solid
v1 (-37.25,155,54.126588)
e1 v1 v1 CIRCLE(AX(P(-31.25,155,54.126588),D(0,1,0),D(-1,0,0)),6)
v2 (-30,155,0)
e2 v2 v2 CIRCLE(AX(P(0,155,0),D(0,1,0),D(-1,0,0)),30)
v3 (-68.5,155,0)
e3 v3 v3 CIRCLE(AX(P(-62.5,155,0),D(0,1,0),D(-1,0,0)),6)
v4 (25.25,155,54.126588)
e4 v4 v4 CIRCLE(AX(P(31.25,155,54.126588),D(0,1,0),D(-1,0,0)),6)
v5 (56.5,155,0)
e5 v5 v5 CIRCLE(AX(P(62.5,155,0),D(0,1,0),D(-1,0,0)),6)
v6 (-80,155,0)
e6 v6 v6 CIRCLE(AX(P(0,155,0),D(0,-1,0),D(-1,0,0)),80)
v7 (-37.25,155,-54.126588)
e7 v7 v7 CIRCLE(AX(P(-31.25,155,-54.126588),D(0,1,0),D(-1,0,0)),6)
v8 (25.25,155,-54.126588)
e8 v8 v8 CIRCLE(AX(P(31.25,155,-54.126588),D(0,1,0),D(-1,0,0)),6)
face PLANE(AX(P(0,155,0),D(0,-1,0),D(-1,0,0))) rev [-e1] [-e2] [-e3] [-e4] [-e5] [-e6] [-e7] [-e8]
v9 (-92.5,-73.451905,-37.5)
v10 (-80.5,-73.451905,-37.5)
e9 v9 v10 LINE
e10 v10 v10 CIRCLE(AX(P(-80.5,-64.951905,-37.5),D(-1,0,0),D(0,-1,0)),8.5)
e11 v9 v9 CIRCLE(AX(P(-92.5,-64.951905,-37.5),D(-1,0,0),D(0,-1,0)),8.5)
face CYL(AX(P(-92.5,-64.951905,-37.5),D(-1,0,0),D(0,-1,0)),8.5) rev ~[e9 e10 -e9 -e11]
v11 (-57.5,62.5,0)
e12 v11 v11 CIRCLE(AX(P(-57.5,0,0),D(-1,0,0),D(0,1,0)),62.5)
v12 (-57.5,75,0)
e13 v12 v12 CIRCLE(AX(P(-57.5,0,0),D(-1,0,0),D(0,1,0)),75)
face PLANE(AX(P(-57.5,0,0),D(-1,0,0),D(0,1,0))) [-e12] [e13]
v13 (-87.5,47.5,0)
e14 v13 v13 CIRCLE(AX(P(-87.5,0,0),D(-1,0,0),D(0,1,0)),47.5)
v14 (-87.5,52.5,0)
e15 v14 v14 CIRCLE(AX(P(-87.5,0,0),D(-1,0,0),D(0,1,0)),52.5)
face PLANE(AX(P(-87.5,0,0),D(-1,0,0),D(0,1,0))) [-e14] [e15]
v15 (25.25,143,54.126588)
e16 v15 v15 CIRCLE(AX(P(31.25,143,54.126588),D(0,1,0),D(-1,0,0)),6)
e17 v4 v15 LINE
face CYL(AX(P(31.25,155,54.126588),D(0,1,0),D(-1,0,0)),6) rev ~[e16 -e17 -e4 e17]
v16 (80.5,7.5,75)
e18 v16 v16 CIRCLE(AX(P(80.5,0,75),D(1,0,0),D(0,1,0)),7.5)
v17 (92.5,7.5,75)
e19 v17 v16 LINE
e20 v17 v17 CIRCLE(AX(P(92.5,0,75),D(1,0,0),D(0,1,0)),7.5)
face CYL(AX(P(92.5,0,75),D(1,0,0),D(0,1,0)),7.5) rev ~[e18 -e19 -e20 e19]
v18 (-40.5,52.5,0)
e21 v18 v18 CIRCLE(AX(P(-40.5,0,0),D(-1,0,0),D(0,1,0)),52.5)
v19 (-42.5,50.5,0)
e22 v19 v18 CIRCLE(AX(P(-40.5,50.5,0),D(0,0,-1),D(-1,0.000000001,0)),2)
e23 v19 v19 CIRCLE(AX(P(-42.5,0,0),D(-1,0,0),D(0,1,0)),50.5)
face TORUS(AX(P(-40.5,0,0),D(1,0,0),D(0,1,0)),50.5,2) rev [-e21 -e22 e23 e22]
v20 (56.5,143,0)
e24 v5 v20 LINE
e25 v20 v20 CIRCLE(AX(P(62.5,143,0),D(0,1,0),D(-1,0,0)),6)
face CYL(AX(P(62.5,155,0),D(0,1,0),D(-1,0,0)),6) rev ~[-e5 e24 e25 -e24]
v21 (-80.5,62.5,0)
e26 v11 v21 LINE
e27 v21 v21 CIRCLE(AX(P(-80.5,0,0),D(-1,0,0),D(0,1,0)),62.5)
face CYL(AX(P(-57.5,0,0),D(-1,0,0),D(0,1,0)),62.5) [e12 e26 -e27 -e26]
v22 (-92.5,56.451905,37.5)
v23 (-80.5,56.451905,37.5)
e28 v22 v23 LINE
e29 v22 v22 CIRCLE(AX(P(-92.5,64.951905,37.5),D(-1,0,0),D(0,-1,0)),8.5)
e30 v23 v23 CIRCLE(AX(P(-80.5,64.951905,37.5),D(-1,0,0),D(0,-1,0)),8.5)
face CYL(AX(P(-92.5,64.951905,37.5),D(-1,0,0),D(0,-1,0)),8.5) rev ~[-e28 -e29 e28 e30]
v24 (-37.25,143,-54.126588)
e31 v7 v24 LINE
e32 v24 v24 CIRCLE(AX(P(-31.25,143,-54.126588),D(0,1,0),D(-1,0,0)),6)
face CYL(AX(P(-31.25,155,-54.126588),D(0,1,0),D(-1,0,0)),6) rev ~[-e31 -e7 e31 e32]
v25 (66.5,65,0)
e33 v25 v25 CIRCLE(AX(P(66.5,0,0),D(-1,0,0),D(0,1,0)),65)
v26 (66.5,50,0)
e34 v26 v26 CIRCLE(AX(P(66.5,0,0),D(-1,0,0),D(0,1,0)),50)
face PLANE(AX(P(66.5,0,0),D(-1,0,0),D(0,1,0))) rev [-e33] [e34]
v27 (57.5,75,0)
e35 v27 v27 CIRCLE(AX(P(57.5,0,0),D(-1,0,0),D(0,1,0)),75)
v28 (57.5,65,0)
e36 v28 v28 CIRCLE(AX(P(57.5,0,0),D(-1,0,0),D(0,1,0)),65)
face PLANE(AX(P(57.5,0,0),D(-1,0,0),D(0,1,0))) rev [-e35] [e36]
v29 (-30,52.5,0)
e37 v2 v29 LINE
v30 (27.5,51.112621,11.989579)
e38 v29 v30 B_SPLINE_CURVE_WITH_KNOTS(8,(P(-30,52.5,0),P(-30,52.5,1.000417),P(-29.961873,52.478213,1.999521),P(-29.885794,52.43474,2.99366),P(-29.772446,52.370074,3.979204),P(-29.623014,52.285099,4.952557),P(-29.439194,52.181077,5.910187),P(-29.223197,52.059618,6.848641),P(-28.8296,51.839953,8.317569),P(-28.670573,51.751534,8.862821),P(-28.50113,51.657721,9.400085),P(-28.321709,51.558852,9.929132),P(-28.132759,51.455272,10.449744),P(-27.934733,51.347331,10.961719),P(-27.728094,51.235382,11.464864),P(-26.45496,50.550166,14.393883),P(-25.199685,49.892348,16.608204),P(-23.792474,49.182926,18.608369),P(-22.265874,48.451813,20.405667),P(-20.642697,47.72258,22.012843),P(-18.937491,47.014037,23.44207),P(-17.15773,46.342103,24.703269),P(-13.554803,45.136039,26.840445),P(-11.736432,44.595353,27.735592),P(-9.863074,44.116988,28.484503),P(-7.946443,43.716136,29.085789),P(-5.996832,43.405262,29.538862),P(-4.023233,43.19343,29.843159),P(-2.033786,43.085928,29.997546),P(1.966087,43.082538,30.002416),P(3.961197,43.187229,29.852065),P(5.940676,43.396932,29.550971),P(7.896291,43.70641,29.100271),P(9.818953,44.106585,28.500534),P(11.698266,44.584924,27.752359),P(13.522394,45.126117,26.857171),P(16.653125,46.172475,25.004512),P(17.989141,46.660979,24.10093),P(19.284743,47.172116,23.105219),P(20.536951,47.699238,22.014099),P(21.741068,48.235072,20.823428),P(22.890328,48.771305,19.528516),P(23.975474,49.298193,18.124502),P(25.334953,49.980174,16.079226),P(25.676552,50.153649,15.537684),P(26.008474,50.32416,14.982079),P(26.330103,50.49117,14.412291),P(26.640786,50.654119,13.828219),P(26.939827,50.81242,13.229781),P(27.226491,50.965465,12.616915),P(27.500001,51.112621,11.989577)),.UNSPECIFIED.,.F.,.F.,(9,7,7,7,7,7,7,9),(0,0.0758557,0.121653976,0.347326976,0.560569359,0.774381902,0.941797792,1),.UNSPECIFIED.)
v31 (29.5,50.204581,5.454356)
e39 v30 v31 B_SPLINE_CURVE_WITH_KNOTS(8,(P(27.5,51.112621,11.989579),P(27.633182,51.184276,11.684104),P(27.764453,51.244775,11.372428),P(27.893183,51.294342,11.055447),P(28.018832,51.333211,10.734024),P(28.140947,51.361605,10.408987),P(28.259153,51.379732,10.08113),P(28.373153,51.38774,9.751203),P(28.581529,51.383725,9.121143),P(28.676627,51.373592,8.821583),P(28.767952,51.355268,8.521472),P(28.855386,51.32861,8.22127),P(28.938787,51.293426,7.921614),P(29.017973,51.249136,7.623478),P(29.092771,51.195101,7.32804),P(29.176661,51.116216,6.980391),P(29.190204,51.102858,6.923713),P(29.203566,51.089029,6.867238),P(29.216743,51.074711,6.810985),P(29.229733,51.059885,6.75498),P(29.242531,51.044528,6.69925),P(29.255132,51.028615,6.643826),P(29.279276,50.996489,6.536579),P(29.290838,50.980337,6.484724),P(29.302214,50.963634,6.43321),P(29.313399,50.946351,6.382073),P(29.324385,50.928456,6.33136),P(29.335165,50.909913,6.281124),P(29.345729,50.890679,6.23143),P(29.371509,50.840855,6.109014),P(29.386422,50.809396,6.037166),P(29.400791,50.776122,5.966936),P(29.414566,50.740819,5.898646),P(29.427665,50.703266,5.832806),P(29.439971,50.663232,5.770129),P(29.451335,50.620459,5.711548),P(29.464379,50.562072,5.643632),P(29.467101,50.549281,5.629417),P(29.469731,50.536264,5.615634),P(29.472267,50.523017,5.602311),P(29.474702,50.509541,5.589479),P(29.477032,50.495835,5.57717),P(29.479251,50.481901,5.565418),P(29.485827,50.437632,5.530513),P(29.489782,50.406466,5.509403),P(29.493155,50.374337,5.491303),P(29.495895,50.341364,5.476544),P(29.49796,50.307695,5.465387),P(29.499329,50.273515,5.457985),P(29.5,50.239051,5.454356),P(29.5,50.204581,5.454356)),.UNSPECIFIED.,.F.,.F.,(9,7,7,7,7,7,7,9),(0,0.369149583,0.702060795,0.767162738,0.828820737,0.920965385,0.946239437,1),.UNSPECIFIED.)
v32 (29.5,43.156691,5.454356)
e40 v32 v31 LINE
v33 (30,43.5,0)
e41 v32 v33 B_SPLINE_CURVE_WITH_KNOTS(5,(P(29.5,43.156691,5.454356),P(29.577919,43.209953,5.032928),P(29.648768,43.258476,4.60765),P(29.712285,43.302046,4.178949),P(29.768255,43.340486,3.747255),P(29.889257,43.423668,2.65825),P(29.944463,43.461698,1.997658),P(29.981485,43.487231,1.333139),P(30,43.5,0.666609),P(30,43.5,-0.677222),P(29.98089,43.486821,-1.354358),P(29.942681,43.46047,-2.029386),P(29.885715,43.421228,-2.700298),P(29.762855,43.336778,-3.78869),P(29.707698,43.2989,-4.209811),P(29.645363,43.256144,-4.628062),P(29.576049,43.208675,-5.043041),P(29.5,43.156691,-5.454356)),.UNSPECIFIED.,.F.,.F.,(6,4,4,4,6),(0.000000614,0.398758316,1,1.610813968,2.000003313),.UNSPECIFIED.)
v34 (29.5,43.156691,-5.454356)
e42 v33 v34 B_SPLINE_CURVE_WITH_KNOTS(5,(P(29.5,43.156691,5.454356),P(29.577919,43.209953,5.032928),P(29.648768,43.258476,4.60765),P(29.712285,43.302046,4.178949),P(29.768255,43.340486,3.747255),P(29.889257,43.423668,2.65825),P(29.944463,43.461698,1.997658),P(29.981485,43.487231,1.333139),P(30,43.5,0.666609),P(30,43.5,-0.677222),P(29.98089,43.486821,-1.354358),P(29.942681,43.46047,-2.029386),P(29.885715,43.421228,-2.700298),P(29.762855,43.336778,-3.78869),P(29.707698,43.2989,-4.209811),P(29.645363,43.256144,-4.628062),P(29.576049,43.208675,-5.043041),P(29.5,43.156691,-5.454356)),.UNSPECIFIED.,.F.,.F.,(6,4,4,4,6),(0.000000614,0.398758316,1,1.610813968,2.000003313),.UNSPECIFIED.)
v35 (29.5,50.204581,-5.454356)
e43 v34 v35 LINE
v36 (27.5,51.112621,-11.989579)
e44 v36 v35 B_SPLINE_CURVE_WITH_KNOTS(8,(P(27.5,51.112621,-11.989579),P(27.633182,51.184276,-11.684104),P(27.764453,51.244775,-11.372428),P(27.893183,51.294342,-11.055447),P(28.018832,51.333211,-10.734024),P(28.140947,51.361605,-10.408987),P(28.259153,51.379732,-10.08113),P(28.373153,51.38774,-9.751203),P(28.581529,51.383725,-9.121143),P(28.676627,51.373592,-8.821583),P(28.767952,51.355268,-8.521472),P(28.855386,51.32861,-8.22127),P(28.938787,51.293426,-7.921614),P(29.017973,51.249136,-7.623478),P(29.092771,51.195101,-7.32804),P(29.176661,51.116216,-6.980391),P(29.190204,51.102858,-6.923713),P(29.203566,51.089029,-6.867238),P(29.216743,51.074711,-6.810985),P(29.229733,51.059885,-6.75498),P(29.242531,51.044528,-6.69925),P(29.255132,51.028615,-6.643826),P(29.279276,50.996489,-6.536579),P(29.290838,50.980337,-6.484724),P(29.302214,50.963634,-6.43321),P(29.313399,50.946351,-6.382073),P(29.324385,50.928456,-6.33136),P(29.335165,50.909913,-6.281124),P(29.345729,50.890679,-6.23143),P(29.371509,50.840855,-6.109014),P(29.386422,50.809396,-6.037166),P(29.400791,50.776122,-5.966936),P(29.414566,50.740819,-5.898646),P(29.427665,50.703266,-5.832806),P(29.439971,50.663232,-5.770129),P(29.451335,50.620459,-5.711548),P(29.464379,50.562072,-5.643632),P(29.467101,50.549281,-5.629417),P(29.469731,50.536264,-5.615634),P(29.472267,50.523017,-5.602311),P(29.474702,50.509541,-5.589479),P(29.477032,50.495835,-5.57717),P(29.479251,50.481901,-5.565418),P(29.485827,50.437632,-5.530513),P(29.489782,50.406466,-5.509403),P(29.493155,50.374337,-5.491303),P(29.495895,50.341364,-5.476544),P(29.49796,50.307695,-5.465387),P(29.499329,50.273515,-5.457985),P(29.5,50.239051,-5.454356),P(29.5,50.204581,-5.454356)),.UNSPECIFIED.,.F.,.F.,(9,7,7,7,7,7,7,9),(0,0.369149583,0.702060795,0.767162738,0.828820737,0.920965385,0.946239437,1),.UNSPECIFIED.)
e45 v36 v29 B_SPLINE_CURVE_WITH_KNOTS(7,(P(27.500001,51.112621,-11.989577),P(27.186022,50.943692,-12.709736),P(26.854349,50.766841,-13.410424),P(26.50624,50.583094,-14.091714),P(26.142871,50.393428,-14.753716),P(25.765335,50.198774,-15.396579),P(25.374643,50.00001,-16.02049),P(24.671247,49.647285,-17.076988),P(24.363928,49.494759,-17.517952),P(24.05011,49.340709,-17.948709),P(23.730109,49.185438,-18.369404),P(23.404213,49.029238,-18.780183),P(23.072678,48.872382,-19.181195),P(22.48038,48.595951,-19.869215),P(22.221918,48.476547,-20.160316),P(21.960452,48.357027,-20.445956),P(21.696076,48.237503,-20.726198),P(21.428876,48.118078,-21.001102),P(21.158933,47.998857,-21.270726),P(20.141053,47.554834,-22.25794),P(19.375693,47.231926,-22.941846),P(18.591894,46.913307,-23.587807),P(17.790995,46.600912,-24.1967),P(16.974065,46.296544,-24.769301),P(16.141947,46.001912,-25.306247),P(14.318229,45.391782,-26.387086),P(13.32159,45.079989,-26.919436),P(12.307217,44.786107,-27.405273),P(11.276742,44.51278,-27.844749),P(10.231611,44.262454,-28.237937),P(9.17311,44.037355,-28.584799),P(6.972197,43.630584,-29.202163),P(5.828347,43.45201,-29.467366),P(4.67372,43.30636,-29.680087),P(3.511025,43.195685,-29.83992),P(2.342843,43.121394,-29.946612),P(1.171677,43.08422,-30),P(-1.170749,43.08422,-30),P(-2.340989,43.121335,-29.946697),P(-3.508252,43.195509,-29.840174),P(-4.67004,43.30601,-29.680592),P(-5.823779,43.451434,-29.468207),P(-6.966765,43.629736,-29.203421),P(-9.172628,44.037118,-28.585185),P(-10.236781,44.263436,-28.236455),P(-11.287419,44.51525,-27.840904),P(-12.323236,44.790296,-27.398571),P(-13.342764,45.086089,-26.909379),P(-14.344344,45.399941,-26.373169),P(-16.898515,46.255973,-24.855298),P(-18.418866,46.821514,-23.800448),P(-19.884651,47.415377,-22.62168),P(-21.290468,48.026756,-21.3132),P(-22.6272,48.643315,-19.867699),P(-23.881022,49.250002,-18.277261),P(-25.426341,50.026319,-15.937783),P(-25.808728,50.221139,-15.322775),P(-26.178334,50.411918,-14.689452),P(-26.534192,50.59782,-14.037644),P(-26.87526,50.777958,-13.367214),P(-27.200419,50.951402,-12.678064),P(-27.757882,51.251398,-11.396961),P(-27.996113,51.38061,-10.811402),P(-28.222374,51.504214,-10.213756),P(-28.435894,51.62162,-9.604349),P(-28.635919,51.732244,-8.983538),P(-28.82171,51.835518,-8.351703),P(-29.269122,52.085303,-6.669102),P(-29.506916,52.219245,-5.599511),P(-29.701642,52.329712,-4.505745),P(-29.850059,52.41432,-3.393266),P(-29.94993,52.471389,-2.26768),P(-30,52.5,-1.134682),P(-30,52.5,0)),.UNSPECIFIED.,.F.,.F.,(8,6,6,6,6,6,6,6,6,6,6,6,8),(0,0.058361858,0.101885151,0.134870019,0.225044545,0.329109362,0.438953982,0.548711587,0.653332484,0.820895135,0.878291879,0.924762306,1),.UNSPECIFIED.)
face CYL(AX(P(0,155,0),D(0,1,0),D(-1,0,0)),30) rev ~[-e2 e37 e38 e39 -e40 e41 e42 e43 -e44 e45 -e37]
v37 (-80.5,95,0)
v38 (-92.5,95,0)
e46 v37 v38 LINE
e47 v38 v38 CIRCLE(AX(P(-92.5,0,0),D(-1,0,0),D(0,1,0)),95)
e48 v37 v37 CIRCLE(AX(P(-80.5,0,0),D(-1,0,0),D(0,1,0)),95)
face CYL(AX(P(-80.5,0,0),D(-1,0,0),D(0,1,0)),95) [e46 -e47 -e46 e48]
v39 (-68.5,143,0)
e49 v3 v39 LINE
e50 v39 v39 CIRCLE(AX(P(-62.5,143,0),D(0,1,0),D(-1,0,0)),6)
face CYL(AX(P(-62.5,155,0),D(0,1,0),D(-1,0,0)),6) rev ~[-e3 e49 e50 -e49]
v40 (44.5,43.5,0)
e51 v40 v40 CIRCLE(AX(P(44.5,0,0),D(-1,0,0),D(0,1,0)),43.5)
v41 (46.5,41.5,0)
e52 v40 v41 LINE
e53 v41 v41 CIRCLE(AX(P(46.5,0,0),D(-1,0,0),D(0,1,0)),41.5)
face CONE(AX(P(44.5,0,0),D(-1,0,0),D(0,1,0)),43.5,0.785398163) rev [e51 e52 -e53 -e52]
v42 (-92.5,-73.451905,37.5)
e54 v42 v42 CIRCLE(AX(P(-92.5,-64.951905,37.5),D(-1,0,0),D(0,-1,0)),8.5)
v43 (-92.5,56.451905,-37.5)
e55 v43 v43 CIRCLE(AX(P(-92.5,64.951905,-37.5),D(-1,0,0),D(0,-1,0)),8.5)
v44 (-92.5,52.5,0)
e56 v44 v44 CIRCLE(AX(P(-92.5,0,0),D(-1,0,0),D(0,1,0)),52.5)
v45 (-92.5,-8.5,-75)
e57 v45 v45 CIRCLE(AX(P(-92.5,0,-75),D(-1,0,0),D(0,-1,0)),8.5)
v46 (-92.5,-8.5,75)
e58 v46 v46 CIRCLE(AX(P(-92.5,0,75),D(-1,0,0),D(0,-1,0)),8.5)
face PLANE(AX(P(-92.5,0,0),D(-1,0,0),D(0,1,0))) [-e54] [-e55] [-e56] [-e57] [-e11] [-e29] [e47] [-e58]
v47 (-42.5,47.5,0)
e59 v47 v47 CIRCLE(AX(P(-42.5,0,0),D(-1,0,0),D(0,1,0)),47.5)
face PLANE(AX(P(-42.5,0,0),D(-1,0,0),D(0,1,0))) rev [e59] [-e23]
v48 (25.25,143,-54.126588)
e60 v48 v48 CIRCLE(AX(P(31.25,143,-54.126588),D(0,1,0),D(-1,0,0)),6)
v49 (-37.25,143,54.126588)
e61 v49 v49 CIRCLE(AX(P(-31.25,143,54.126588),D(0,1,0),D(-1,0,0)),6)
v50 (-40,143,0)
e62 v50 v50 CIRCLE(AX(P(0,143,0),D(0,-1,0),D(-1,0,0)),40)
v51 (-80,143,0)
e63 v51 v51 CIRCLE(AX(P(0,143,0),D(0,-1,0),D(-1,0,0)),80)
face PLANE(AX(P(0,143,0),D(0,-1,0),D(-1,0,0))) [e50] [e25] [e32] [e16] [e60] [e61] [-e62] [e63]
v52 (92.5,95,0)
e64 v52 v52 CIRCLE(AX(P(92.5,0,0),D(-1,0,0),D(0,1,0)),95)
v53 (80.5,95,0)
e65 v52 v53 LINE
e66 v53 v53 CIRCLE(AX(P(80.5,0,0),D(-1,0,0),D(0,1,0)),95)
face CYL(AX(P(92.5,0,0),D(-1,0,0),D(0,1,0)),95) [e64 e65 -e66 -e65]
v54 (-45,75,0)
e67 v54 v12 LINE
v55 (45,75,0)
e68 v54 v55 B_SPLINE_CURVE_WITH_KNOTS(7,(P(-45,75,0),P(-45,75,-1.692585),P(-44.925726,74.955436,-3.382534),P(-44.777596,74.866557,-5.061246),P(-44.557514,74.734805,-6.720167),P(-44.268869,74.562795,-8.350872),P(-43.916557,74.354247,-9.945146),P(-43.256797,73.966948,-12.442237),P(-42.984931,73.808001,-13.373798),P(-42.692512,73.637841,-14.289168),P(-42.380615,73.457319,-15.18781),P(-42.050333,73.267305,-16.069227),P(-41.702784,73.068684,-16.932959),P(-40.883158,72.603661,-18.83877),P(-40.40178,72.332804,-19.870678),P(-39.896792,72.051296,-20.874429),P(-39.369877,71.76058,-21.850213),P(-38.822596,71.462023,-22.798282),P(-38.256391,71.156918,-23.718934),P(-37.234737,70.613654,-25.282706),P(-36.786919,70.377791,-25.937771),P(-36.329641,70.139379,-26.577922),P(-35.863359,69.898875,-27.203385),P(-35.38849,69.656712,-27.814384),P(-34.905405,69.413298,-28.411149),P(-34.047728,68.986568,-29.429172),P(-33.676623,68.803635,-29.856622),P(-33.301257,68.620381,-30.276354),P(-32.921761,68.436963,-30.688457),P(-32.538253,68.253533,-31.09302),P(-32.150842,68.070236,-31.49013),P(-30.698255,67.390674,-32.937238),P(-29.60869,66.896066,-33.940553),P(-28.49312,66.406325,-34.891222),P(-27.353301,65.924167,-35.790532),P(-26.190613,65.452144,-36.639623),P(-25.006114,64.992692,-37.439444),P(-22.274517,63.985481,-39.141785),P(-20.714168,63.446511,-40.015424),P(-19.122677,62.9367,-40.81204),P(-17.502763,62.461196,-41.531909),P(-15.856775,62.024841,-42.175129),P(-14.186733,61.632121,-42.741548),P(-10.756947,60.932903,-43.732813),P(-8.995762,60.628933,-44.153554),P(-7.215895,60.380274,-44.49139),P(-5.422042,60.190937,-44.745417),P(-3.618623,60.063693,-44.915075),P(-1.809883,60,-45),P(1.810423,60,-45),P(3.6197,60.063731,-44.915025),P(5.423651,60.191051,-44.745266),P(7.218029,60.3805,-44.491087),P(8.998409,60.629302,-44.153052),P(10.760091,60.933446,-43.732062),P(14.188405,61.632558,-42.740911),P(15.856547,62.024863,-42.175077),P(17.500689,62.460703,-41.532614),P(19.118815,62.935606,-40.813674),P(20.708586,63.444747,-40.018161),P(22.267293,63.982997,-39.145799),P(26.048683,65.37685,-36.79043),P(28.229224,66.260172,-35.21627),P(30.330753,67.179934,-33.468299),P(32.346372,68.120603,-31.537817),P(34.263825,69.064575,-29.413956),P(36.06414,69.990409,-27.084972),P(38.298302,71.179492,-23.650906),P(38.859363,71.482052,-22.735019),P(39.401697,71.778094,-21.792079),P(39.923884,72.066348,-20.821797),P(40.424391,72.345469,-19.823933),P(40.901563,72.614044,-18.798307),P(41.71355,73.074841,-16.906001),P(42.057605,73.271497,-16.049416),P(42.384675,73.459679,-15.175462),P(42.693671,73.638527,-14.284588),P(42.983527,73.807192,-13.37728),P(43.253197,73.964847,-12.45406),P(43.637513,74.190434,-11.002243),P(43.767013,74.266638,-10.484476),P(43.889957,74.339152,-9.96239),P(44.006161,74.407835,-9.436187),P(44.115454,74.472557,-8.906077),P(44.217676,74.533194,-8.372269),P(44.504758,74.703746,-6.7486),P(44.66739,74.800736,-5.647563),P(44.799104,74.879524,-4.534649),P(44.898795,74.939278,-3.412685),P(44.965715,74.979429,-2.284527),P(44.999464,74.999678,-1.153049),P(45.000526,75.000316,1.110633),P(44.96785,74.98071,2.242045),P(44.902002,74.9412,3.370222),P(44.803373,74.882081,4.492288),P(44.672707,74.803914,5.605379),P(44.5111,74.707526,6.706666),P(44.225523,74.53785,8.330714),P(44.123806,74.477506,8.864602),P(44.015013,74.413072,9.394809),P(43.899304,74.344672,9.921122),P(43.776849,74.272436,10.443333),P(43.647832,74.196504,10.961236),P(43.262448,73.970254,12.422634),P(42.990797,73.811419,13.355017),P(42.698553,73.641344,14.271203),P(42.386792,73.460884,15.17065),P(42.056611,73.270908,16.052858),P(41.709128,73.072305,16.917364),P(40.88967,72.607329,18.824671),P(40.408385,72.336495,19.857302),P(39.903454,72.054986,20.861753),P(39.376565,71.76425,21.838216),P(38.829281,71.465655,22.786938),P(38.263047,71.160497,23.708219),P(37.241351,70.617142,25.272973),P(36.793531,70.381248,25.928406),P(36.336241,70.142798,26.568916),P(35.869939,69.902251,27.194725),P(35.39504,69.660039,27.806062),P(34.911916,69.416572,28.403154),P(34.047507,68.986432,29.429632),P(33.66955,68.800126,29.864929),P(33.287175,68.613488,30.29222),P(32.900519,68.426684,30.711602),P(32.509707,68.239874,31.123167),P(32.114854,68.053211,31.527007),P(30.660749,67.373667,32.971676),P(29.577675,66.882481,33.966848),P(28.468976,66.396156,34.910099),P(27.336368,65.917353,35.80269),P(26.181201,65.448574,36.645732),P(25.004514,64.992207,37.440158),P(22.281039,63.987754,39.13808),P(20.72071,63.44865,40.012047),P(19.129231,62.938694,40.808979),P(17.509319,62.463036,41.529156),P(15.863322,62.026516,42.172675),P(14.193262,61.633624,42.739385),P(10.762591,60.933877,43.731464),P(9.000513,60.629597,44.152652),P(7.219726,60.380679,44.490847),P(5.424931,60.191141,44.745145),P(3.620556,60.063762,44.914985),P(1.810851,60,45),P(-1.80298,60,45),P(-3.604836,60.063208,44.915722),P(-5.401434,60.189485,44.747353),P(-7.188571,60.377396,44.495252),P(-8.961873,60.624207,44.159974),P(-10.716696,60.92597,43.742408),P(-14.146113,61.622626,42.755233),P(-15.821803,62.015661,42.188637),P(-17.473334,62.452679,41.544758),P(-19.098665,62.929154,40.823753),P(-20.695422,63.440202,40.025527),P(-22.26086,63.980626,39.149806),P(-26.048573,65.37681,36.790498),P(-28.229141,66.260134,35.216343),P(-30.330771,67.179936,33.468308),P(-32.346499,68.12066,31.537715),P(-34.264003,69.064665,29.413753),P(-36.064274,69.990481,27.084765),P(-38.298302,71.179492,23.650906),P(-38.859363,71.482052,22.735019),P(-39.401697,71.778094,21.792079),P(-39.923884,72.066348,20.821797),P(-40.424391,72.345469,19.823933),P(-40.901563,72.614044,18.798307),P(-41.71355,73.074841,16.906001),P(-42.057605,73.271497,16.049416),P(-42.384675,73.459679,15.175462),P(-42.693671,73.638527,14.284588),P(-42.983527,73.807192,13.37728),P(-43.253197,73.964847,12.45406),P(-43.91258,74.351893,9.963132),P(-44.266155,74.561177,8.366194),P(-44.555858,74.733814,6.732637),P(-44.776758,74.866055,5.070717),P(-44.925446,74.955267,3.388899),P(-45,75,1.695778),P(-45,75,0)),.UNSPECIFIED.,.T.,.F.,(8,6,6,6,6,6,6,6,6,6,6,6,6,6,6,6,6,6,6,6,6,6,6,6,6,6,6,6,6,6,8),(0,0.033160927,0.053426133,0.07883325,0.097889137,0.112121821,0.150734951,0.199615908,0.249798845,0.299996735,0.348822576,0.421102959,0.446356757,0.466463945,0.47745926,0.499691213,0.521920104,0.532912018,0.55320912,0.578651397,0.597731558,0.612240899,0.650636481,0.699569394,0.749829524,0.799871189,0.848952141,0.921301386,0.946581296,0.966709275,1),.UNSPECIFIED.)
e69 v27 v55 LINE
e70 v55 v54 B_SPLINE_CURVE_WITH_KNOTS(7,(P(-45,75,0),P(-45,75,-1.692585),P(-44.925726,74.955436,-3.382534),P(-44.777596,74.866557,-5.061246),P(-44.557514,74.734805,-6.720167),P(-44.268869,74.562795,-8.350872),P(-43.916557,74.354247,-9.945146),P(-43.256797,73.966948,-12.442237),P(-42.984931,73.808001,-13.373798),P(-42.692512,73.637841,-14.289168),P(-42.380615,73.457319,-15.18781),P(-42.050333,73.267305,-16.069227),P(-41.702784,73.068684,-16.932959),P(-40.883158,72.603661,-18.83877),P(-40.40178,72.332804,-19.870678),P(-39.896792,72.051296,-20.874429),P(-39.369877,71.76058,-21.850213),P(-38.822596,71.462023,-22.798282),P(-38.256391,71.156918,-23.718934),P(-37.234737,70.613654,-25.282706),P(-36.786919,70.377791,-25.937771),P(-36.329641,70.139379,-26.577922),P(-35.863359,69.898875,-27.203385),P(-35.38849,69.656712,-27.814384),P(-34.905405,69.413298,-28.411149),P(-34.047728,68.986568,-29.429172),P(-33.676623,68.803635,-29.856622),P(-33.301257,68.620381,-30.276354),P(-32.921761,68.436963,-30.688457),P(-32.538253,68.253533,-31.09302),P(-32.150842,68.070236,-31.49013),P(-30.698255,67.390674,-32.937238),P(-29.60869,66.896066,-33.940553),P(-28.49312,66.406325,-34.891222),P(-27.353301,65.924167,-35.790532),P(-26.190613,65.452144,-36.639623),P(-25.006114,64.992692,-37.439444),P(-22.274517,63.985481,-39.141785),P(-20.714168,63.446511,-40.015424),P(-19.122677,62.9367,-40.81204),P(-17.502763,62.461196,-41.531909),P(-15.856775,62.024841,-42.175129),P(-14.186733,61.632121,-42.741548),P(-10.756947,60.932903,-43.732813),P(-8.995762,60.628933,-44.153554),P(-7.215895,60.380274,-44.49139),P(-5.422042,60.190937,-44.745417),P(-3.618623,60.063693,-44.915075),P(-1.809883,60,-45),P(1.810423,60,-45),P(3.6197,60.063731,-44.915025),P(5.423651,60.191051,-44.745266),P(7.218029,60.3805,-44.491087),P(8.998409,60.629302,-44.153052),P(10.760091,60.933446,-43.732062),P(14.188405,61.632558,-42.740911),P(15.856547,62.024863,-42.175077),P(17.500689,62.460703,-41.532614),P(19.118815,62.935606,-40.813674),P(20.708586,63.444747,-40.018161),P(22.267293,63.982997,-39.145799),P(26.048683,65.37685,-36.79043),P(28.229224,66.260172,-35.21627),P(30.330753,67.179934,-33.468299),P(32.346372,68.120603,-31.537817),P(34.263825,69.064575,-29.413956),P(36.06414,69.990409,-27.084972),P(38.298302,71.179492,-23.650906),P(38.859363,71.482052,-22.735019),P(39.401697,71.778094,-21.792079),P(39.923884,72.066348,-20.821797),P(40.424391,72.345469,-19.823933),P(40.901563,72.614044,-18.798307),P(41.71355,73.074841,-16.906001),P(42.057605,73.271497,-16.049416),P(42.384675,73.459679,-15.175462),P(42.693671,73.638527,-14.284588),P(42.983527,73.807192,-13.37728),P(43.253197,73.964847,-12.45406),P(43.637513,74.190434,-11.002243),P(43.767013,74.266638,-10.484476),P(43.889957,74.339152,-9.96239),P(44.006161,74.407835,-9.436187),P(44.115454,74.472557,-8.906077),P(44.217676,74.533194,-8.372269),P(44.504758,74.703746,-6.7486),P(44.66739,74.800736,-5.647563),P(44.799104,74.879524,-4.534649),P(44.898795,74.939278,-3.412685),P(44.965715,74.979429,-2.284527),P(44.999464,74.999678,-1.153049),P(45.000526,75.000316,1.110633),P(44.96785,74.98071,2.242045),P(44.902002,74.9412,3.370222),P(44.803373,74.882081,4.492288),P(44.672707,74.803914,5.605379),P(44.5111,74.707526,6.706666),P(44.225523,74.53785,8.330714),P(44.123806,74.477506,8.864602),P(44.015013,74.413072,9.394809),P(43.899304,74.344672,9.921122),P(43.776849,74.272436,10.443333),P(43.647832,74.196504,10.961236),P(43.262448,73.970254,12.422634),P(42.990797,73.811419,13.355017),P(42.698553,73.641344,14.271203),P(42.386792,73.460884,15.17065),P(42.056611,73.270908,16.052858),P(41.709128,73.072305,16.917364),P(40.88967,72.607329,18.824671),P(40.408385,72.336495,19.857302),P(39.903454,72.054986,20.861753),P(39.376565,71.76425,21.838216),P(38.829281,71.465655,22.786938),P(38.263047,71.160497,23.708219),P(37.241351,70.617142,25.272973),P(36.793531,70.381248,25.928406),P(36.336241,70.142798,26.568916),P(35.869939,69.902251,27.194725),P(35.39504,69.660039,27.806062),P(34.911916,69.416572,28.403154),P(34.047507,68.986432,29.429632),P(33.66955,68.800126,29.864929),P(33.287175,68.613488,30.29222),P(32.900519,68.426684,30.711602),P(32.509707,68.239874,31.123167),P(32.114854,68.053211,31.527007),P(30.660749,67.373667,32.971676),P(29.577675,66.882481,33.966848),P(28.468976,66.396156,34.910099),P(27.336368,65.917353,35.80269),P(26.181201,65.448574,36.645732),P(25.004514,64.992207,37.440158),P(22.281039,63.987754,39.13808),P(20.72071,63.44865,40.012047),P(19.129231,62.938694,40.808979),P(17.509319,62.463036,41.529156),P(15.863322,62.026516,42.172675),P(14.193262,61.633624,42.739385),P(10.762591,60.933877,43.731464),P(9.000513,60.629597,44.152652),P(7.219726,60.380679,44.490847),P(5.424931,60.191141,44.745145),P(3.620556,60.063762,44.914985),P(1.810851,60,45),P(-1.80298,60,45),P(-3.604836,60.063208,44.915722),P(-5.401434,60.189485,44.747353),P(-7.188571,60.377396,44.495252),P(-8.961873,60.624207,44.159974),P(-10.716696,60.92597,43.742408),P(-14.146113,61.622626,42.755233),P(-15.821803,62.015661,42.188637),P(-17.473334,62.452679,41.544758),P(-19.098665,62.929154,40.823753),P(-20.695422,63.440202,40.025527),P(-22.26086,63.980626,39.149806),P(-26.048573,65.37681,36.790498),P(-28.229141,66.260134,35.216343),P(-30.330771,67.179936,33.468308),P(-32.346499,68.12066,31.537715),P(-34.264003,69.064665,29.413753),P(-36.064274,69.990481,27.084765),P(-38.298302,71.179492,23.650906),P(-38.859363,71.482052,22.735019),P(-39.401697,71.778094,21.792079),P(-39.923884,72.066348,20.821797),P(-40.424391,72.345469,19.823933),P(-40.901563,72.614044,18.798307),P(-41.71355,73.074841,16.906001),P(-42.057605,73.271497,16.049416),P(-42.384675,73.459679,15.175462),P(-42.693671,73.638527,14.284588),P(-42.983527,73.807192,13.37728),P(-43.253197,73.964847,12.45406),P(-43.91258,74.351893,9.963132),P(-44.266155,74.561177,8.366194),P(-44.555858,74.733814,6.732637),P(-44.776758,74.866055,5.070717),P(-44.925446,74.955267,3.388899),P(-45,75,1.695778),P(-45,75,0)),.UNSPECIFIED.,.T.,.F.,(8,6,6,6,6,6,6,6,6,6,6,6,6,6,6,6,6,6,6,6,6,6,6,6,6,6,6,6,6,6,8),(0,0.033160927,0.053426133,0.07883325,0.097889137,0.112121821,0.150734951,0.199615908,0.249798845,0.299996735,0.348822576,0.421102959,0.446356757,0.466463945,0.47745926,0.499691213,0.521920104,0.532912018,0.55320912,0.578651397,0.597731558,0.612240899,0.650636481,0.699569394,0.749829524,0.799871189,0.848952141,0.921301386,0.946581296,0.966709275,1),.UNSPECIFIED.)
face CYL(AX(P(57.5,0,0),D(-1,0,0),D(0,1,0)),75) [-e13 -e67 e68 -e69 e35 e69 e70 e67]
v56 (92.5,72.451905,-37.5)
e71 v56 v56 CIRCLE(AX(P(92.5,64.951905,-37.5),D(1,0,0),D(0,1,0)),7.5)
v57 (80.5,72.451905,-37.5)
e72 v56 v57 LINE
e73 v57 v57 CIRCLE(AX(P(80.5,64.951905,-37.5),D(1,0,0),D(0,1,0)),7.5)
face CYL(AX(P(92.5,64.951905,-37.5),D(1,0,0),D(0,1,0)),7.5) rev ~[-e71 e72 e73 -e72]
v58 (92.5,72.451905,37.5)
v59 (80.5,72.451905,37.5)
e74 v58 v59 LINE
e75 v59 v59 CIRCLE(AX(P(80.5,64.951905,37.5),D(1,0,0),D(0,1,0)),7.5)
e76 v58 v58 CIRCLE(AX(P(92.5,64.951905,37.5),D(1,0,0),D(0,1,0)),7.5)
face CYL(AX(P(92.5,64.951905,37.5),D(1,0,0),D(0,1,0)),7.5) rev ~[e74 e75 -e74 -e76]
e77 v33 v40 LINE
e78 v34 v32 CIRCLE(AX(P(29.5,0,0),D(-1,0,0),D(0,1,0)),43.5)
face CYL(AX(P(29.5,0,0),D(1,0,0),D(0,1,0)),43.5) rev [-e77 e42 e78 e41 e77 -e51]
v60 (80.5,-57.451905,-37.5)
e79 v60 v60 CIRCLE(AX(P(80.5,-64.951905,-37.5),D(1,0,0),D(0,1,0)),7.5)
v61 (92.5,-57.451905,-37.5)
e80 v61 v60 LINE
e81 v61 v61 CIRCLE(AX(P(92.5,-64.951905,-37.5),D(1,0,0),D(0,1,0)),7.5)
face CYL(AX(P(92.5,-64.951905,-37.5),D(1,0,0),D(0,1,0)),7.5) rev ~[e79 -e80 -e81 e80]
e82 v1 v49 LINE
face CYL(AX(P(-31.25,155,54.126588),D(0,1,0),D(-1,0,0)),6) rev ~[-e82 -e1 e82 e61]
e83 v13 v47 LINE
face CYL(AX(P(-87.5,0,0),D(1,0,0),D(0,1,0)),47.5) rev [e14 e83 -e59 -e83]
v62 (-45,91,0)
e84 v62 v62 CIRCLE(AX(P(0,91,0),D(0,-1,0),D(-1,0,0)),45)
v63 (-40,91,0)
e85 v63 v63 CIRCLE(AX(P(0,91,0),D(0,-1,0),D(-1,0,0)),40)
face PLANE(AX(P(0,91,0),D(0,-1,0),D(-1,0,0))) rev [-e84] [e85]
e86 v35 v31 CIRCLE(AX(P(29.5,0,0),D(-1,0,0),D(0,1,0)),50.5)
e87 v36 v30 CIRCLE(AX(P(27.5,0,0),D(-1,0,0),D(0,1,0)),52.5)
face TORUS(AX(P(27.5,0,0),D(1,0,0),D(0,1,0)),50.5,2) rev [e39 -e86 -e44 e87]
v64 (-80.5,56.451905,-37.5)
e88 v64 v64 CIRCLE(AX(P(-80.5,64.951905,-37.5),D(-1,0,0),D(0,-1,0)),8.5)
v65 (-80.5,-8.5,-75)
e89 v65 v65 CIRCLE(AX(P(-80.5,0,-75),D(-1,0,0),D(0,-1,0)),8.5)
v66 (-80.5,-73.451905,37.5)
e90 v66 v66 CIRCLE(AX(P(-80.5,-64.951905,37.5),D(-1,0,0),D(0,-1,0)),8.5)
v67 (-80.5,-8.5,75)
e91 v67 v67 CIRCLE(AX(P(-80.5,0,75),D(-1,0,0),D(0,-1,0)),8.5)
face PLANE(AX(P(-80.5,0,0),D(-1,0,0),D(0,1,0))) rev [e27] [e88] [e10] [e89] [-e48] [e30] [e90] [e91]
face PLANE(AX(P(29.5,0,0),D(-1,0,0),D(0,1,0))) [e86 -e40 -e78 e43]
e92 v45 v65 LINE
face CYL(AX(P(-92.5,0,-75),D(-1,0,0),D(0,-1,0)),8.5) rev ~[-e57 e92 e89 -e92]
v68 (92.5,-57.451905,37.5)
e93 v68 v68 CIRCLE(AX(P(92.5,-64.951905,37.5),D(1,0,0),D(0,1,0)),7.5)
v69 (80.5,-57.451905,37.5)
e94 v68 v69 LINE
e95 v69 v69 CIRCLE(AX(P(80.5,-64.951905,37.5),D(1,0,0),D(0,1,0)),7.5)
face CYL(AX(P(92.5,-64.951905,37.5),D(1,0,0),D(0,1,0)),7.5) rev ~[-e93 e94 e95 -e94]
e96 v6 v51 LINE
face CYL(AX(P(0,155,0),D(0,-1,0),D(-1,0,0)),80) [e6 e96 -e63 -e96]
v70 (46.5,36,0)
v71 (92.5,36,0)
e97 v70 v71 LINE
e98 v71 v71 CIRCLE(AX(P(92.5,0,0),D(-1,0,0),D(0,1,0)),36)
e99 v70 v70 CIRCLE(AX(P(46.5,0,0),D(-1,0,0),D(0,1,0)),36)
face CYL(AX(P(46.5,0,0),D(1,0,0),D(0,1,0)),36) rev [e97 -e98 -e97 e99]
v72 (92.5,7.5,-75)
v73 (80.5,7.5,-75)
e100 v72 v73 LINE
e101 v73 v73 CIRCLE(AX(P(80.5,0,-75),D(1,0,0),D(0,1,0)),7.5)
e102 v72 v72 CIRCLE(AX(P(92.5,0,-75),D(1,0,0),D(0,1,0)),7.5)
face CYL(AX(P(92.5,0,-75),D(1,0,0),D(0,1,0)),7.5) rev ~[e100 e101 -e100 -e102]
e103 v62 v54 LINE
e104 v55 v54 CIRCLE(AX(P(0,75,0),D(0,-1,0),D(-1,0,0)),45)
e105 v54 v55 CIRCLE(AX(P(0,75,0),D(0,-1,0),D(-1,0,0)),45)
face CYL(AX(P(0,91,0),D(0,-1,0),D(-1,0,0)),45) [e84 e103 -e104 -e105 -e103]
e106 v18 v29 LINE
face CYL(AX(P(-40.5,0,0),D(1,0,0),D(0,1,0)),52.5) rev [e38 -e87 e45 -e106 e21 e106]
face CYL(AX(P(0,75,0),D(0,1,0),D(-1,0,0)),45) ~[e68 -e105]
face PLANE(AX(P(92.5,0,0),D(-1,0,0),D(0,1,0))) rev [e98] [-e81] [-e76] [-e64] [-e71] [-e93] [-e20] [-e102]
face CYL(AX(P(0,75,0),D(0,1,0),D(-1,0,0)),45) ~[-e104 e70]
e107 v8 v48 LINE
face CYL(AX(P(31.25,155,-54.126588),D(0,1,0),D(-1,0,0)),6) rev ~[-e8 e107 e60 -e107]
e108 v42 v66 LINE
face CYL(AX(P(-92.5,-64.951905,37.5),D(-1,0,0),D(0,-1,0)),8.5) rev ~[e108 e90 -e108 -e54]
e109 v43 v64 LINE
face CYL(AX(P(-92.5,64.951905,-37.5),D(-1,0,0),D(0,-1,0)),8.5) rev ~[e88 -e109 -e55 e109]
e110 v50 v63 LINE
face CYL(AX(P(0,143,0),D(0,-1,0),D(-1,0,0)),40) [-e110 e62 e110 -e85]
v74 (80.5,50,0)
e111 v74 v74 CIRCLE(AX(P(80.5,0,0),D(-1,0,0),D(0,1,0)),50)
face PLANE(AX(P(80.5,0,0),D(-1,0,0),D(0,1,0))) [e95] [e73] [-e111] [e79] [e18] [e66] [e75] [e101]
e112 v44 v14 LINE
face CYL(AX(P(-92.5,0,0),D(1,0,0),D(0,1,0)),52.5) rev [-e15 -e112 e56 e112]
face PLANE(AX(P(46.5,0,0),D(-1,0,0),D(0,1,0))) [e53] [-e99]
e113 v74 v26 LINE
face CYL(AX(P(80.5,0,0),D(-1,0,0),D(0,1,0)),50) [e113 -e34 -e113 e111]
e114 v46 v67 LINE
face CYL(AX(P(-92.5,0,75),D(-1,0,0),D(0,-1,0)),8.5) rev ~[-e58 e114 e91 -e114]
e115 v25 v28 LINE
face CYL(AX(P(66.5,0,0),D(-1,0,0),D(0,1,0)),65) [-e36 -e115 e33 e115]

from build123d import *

# Parameters (mm, degrees)
BOSS_EXTRUDE7_REACH      = 217.595
BOSS_EXTRUDE7_END_RADIUS = 75
SKETCH7_R                = 45
CUT_EXTRUDE1_REACH       = 284.986
SKETCH15_R               = 30
CUT_EXTRUDE2_REACH       = 261.374
SKETCH16_R               = 7.5
CUT_EXTRUDE3_REACH       = 261.374
SKETCH21_R               = 8.5
CUT_EXTRUDE4_REACH       = 284.986
SKETCH25_R               = 6


with BuildPart() as part:
    # Sketch1 → Revolve1 (revolve)
    with BuildSketch(Plane.XY, mode=Mode.PRIVATE) as revolve1_sk:
        with BuildLine():
            Line((-92.5, -95), (-92.5, -52.5))
            Line((-92.5, -52.5), (-87.5, -52.5))
            Line((-87.5, -52.5), (-87.5, -47.5))
            Line((-87.5, -47.5), (-42.5, -47.5))
            Line((-42.5, -47.5), (-42.5, -50.5))
            ThreePointArc((-42.5, -50.5), (-41.914213562, -51.914213562), (-40.5, -52.5))
            Line((-40.5, -52.5), (27.5, -52.5))
            ThreePointArc((27.5, -52.5), (28.914213562, -51.914213562), (29.5, -50.5))
            Line((29.5, -50.5), (29.5, -43.5))
            Line((29.5, -43.5), (44.5, -43.5))
            Line((44.5, -43.5), (46.5, -41.5))
            Line((46.5, -41.5), (46.5, -36))
            Line((46.5, -36), (92.5, -36))
            Line((92.5, -36), (92.5, -95))
            Line((92.5, -95), (80.5, -95))
            Line((80.5, -95), (80.5, -50))
            Line((80.5, -50), (66.5, -50))
            Line((66.5, -50), (66.5, -65))
            Line((66.5, -65), (57.5, -65))
            Line((57.5, -65), (57.5, -75))
            Line((57.5, -75), (-57.5, -75))
            Line((-57.5, -75), (-57.5, -62.5))
            Line((-57.5, -62.5), (-80.5, -62.5))
            Line((-80.5, -62.5), (-80.5, -95))
            Line((-80.5, -95), (-92.5, -95))
        make_face()
    revolve(revolve1_sk.sketch.rotate(Axis((0, 0, 0), (-1, 0, 0)), 180), axis=Axis((0, 0, 0), (-1, 0, 0)))



with BuildPart() as body_2:
    # Sketch2 → Revolve2 (revolve)
    with BuildSketch(Plane.XY, mode=Mode.PRIVATE) as revolve2_sk:
        Polygon((0, 155), (80, 155), (80, 143), (40, 143), (40, 91), (45, 91), (45, 75), (0, 75), align=None)
    revolve(revolve2_sk.sketch.rotate(Axis((0, 155, 0), (0, -1, 0)), 180), axis=Axis((0, 155, 0), (0, -1, 0)))


with BuildPart() as part_1:
    add(part.part)

    add(body_2.part)  # Boss-Extrude7 merges body 2
    # Boss-Extrude7: up to this cylinder (the profile starts outside it)
    boss_extrude7_end = Plane(origin=(0, 0, 0), z_dir=(1, 0, 0)) * Cylinder(BOSS_EXTRUDE7_END_RADIUS, 586.19, mode=Mode.PRIVATE)
    # Sketch7 → Boss-Extrude7 (add, up to the surface)
    with BuildSketch(Plane.XZ.offset(-75), mode=Mode.PRIVATE) as boss_extrude7_sk1:
        with Locations(Location((0, 0, 0), (0, 0, 180))):
            Circle(SKETCH7_R)
    boss_extrude7_tool1 = extrude(boss_extrude7_sk1.sketch, amount=BOSS_EXTRUDE7_REACH, mode=Mode.PRIVATE) - boss_extrude7_end
    add(boss_extrude7_tool1.solids().sort_by_distance((0, 75, 0))[0])
    add(boss_extrude7_tool1.solids().sort_by_distance((0, 75, 0))[1])

    # Sketch15 → Cut-Extrude1 (cut, up to next)
    with BuildSketch(Plane(origin=(0, 155, 0), x_dir=(1, 0, 0), z_dir=(0, 1, 0)), mode=Mode.PRIVATE) as cut_extrude1_sk1:
        with Locations(Location((0, 0, 0), (0, 0, 180))):
            Circle(SKETCH15_R)
    cut_extrude1_tool1 = extrude(cut_extrude1_sk1.sketch, amount=-CUT_EXTRUDE1_REACH, mode=Mode.PRIVATE) & part_1.part
    add(cut_extrude1_tool1.solids().sort_by_distance((0, 155, 0))[0], mode=Mode.SUBTRACT)

    # Sketch16 → Cut-Extrude2 (cut, up to next)
    with BuildSketch(Plane(origin=(92.5, 0, 0), x_dir=(0, 0, -1), z_dir=(1, 0, 0)), mode=Mode.PRIVATE) as cut_extrude2_sk1:
        with Locations(Location((75, 0, 0), (0, 0, 90))):
            Circle(SKETCH16_R)
    cut_extrude2_tool1 = extrude(cut_extrude2_sk1.sketch, amount=-CUT_EXTRUDE2_REACH, mode=Mode.PRIVATE) & part_1.part
    # Sketch16 → Cut-Extrude2 (cut, up to next)
    with BuildSketch(Plane(origin=(92.5, 0, 0), x_dir=(0, 0, -1), z_dir=(1, 0, 0)), mode=Mode.PRIVATE) as cut_extrude2_sk2:
        with Locations(Location((37.5, -64.951905284, 0), (0, 0, 90))):
            Circle(SKETCH16_R)
    cut_extrude2_tool2 = extrude(cut_extrude2_sk2.sketch, amount=-CUT_EXTRUDE2_REACH, mode=Mode.PRIVATE) & part_1.part
    # Sketch16 → Cut-Extrude2 (cut, up to next)
    with BuildSketch(Plane(origin=(92.5, 0, 0), x_dir=(0, 0, -1), z_dir=(1, 0, 0)), mode=Mode.PRIVATE) as cut_extrude2_sk3:
        with Locations(Location((-37.5, -64.951905284, 0), (0, 0, 90))):
            Circle(SKETCH16_R)
    cut_extrude2_tool3 = extrude(cut_extrude2_sk3.sketch, amount=-CUT_EXTRUDE2_REACH, mode=Mode.PRIVATE) & part_1.part
    # Sketch16 → Cut-Extrude2 (cut, up to next)
    with BuildSketch(Plane(origin=(92.5, 0, 0), x_dir=(0, 0, -1), z_dir=(1, 0, 0)), mode=Mode.PRIVATE) as cut_extrude2_sk4:
        with Locations(Location((-75, 0, 0), (0, 0, 90))):
            Circle(SKETCH16_R)
    cut_extrude2_tool4 = extrude(cut_extrude2_sk4.sketch, amount=-CUT_EXTRUDE2_REACH, mode=Mode.PRIVATE) & part_1.part
    # Sketch16 → Cut-Extrude2 (cut, up to next)
    with BuildSketch(Plane(origin=(92.5, 0, 0), x_dir=(0, 0, -1), z_dir=(1, 0, 0)), mode=Mode.PRIVATE) as cut_extrude2_sk5:
        with Locations(Location((-37.5, 64.951905284, 0), (0, 0, 90))):
            Circle(SKETCH16_R)
    cut_extrude2_tool5 = extrude(cut_extrude2_sk5.sketch, amount=-CUT_EXTRUDE2_REACH, mode=Mode.PRIVATE) & part_1.part
    # Sketch16 → Cut-Extrude2 (cut, up to next)
    with BuildSketch(Plane(origin=(92.5, 0, 0), x_dir=(0, 0, -1), z_dir=(1, 0, 0)), mode=Mode.PRIVATE) as cut_extrude2_sk6:
        with Locations(Location((37.5, 64.951905284, 0), (0, 0, 90))):
            Circle(SKETCH16_R)
    cut_extrude2_tool6 = extrude(cut_extrude2_sk6.sketch, amount=-CUT_EXTRUDE2_REACH, mode=Mode.PRIVATE) & part_1.part
    add(cut_extrude2_tool1.solids().sort_by_distance((92.5, 0, -75))[0], mode=Mode.SUBTRACT)
    add(cut_extrude2_tool2.solids().sort_by_distance((92.5, -64.951905, -37.5))[0], mode=Mode.SUBTRACT)
    add(cut_extrude2_tool3.solids().sort_by_distance((92.5, -64.951905, 37.5))[0], mode=Mode.SUBTRACT)
    add(cut_extrude2_tool4.solids().sort_by_distance((92.5, 0, 75))[0], mode=Mode.SUBTRACT)
    add(cut_extrude2_tool5.solids().sort_by_distance((92.5, 64.951905, 37.5))[0], mode=Mode.SUBTRACT)
    add(cut_extrude2_tool6.solids().sort_by_distance((92.5, 64.951905, -37.5))[0], mode=Mode.SUBTRACT)

    # Sketch21 → Cut-Extrude3 (cut, up to next)
    with BuildSketch(Plane.ZY.offset(92.5), mode=Mode.PRIVATE) as cut_extrude3_sk1:
        with Locations(Location((75, 0, 0), (0, 0, 270))):
            Circle(SKETCH21_R)
    cut_extrude3_tool1 = extrude(cut_extrude3_sk1.sketch, amount=-CUT_EXTRUDE3_REACH, mode=Mode.PRIVATE) & part_1.part
    # Sketch21 → Cut-Extrude3 (cut, up to next)
    with BuildSketch(Plane.ZY.offset(92.5), mode=Mode.PRIVATE) as cut_extrude3_sk2:
        with Locations(Location((37.5, -64.951905284, 0), (0, 0, 270))):
            Circle(SKETCH21_R)
    cut_extrude3_tool2 = extrude(cut_extrude3_sk2.sketch, amount=-CUT_EXTRUDE3_REACH, mode=Mode.PRIVATE) & part_1.part
    # Sketch21 → Cut-Extrude3 (cut, up to next)
    with BuildSketch(Plane.ZY.offset(92.5), mode=Mode.PRIVATE) as cut_extrude3_sk3:
        with Locations(Location((-37.5, -64.951905284, 0), (0, 0, 270))):
            Circle(SKETCH21_R)
    cut_extrude3_tool3 = extrude(cut_extrude3_sk3.sketch, amount=-CUT_EXTRUDE3_REACH, mode=Mode.PRIVATE) & part_1.part
    # Sketch21 → Cut-Extrude3 (cut, up to next)
    with BuildSketch(Plane.ZY.offset(92.5), mode=Mode.PRIVATE) as cut_extrude3_sk4:
        with Locations(Location((-75, 0, 0), (0, 0, 270))):
            Circle(SKETCH21_R)
    cut_extrude3_tool4 = extrude(cut_extrude3_sk4.sketch, amount=-CUT_EXTRUDE3_REACH, mode=Mode.PRIVATE) & part_1.part
    # Sketch21 → Cut-Extrude3 (cut, up to next)
    with BuildSketch(Plane.ZY.offset(92.5), mode=Mode.PRIVATE) as cut_extrude3_sk5:
        with Locations(Location((-37.5, 64.951905284, 0), (0, 0, 270))):
            Circle(SKETCH21_R)
    cut_extrude3_tool5 = extrude(cut_extrude3_sk5.sketch, amount=-CUT_EXTRUDE3_REACH, mode=Mode.PRIVATE) & part_1.part
    # Sketch21 → Cut-Extrude3 (cut, up to next)
    with BuildSketch(Plane.ZY.offset(92.5), mode=Mode.PRIVATE) as cut_extrude3_sk6:
        with Locations(Location((37.5, 64.951905284, 0), (0, 0, 270))):
            Circle(SKETCH21_R)
    cut_extrude3_tool6 = extrude(cut_extrude3_sk6.sketch, amount=-CUT_EXTRUDE3_REACH, mode=Mode.PRIVATE) & part_1.part
    add(cut_extrude3_tool1.solids().sort_by_distance((-92.5, 0, 75))[0], mode=Mode.SUBTRACT)
    add(cut_extrude3_tool2.solids().sort_by_distance((-92.5, -64.951905, 37.5))[0], mode=Mode.SUBTRACT)
    add(cut_extrude3_tool3.solids().sort_by_distance((-92.5, -64.951905, -37.5))[0], mode=Mode.SUBTRACT)
    add(cut_extrude3_tool4.solids().sort_by_distance((-92.5, 0, -75))[0], mode=Mode.SUBTRACT)
    add(cut_extrude3_tool5.solids().sort_by_distance((-92.5, 64.951905, -37.5))[0], mode=Mode.SUBTRACT)
    add(cut_extrude3_tool6.solids().sort_by_distance((-92.5, 64.951905, 37.5))[0], mode=Mode.SUBTRACT)

    # Sketch25 → Cut-Extrude4 (cut, up to next)
    with BuildSketch(Plane(origin=(0, 155, 0), x_dir=(1, 0, 0), z_dir=(0, 1, 0)), mode=Mode.PRIVATE) as cut_extrude4_sk1:
        with Locations(Location((62.5, 0, 0), (0, 0, 180))):
            Circle(SKETCH25_R)
    cut_extrude4_tool1 = extrude(cut_extrude4_sk1.sketch, amount=-CUT_EXTRUDE4_REACH, mode=Mode.PRIVATE) & part_1.part
    # Sketch25 → Cut-Extrude4 (cut, up to next)
    with BuildSketch(Plane(origin=(0, 155, 0), x_dir=(1, 0, 0), z_dir=(0, 1, 0)), mode=Mode.PRIVATE) as cut_extrude4_sk2:
        with Locations(Location((31.25, -54.126587737, 0), (0, 0, 180))):
            Circle(SKETCH25_R)
    cut_extrude4_tool2 = extrude(cut_extrude4_sk2.sketch, amount=-CUT_EXTRUDE4_REACH, mode=Mode.PRIVATE) & part_1.part
    # Sketch25 → Cut-Extrude4 (cut, up to next)
    with BuildSketch(Plane(origin=(0, 155, 0), x_dir=(1, 0, 0), z_dir=(0, 1, 0)), mode=Mode.PRIVATE) as cut_extrude4_sk3:
        with Locations(Location((-31.25, -54.126587737, 0), (0, 0, 180))):
            Circle(SKETCH25_R)
    cut_extrude4_tool3 = extrude(cut_extrude4_sk3.sketch, amount=-CUT_EXTRUDE4_REACH, mode=Mode.PRIVATE) & part_1.part
    # Sketch25 → Cut-Extrude4 (cut, up to next)
    with BuildSketch(Plane(origin=(0, 155, 0), x_dir=(1, 0, 0), z_dir=(0, 1, 0)), mode=Mode.PRIVATE) as cut_extrude4_sk4:
        with Locations(Location((-62.5, 0, 0), (0, 0, 180))):
            Circle(SKETCH25_R)
    cut_extrude4_tool4 = extrude(cut_extrude4_sk4.sketch, amount=-CUT_EXTRUDE4_REACH, mode=Mode.PRIVATE) & part_1.part
    # Sketch25 → Cut-Extrude4 (cut, up to next)
    with BuildSketch(Plane(origin=(0, 155, 0), x_dir=(1, 0, 0), z_dir=(0, 1, 0)), mode=Mode.PRIVATE) as cut_extrude4_sk5:
        with Locations(Location((-31.25, 54.126587737, 0), (0, 0, 180))):
            Circle(SKETCH25_R)
    cut_extrude4_tool5 = extrude(cut_extrude4_sk5.sketch, amount=-CUT_EXTRUDE4_REACH, mode=Mode.PRIVATE) & part_1.part
    # Sketch25 → Cut-Extrude4 (cut, up to next)
    with BuildSketch(Plane(origin=(0, 155, 0), x_dir=(1, 0, 0), z_dir=(0, 1, 0)), mode=Mode.PRIVATE) as cut_extrude4_sk6:
        with Locations(Location((31.25, 54.126587737, 0), (0, 0, 180))):
            Circle(SKETCH25_R)
    cut_extrude4_tool6 = extrude(cut_extrude4_sk6.sketch, amount=-CUT_EXTRUDE4_REACH, mode=Mode.PRIVATE) & part_1.part
    add(cut_extrude4_tool1.solids().sort_by_distance((62.5, 155, 0))[0], mode=Mode.SUBTRACT)
    add(cut_extrude4_tool2.solids().sort_by_distance((31.25, 155, 54.126588))[0], mode=Mode.SUBTRACT)
    add(cut_extrude4_tool3.solids().sort_by_distance((-31.25, 155, 54.126588))[0], mode=Mode.SUBTRACT)
    add(cut_extrude4_tool4.solids().sort_by_distance((-62.5, 155, 0))[0], mode=Mode.SUBTRACT)
    add(cut_extrude4_tool5.solids().sort_by_distance((-31.25, 155, -54.126588))[0], mode=Mode.SUBTRACT)
    add(cut_extrude4_tool6.solids().sort_by_distance((31.25, 155, -54.126588))[0], mode=Mode.SUBTRACT)


solid = part_1.part
